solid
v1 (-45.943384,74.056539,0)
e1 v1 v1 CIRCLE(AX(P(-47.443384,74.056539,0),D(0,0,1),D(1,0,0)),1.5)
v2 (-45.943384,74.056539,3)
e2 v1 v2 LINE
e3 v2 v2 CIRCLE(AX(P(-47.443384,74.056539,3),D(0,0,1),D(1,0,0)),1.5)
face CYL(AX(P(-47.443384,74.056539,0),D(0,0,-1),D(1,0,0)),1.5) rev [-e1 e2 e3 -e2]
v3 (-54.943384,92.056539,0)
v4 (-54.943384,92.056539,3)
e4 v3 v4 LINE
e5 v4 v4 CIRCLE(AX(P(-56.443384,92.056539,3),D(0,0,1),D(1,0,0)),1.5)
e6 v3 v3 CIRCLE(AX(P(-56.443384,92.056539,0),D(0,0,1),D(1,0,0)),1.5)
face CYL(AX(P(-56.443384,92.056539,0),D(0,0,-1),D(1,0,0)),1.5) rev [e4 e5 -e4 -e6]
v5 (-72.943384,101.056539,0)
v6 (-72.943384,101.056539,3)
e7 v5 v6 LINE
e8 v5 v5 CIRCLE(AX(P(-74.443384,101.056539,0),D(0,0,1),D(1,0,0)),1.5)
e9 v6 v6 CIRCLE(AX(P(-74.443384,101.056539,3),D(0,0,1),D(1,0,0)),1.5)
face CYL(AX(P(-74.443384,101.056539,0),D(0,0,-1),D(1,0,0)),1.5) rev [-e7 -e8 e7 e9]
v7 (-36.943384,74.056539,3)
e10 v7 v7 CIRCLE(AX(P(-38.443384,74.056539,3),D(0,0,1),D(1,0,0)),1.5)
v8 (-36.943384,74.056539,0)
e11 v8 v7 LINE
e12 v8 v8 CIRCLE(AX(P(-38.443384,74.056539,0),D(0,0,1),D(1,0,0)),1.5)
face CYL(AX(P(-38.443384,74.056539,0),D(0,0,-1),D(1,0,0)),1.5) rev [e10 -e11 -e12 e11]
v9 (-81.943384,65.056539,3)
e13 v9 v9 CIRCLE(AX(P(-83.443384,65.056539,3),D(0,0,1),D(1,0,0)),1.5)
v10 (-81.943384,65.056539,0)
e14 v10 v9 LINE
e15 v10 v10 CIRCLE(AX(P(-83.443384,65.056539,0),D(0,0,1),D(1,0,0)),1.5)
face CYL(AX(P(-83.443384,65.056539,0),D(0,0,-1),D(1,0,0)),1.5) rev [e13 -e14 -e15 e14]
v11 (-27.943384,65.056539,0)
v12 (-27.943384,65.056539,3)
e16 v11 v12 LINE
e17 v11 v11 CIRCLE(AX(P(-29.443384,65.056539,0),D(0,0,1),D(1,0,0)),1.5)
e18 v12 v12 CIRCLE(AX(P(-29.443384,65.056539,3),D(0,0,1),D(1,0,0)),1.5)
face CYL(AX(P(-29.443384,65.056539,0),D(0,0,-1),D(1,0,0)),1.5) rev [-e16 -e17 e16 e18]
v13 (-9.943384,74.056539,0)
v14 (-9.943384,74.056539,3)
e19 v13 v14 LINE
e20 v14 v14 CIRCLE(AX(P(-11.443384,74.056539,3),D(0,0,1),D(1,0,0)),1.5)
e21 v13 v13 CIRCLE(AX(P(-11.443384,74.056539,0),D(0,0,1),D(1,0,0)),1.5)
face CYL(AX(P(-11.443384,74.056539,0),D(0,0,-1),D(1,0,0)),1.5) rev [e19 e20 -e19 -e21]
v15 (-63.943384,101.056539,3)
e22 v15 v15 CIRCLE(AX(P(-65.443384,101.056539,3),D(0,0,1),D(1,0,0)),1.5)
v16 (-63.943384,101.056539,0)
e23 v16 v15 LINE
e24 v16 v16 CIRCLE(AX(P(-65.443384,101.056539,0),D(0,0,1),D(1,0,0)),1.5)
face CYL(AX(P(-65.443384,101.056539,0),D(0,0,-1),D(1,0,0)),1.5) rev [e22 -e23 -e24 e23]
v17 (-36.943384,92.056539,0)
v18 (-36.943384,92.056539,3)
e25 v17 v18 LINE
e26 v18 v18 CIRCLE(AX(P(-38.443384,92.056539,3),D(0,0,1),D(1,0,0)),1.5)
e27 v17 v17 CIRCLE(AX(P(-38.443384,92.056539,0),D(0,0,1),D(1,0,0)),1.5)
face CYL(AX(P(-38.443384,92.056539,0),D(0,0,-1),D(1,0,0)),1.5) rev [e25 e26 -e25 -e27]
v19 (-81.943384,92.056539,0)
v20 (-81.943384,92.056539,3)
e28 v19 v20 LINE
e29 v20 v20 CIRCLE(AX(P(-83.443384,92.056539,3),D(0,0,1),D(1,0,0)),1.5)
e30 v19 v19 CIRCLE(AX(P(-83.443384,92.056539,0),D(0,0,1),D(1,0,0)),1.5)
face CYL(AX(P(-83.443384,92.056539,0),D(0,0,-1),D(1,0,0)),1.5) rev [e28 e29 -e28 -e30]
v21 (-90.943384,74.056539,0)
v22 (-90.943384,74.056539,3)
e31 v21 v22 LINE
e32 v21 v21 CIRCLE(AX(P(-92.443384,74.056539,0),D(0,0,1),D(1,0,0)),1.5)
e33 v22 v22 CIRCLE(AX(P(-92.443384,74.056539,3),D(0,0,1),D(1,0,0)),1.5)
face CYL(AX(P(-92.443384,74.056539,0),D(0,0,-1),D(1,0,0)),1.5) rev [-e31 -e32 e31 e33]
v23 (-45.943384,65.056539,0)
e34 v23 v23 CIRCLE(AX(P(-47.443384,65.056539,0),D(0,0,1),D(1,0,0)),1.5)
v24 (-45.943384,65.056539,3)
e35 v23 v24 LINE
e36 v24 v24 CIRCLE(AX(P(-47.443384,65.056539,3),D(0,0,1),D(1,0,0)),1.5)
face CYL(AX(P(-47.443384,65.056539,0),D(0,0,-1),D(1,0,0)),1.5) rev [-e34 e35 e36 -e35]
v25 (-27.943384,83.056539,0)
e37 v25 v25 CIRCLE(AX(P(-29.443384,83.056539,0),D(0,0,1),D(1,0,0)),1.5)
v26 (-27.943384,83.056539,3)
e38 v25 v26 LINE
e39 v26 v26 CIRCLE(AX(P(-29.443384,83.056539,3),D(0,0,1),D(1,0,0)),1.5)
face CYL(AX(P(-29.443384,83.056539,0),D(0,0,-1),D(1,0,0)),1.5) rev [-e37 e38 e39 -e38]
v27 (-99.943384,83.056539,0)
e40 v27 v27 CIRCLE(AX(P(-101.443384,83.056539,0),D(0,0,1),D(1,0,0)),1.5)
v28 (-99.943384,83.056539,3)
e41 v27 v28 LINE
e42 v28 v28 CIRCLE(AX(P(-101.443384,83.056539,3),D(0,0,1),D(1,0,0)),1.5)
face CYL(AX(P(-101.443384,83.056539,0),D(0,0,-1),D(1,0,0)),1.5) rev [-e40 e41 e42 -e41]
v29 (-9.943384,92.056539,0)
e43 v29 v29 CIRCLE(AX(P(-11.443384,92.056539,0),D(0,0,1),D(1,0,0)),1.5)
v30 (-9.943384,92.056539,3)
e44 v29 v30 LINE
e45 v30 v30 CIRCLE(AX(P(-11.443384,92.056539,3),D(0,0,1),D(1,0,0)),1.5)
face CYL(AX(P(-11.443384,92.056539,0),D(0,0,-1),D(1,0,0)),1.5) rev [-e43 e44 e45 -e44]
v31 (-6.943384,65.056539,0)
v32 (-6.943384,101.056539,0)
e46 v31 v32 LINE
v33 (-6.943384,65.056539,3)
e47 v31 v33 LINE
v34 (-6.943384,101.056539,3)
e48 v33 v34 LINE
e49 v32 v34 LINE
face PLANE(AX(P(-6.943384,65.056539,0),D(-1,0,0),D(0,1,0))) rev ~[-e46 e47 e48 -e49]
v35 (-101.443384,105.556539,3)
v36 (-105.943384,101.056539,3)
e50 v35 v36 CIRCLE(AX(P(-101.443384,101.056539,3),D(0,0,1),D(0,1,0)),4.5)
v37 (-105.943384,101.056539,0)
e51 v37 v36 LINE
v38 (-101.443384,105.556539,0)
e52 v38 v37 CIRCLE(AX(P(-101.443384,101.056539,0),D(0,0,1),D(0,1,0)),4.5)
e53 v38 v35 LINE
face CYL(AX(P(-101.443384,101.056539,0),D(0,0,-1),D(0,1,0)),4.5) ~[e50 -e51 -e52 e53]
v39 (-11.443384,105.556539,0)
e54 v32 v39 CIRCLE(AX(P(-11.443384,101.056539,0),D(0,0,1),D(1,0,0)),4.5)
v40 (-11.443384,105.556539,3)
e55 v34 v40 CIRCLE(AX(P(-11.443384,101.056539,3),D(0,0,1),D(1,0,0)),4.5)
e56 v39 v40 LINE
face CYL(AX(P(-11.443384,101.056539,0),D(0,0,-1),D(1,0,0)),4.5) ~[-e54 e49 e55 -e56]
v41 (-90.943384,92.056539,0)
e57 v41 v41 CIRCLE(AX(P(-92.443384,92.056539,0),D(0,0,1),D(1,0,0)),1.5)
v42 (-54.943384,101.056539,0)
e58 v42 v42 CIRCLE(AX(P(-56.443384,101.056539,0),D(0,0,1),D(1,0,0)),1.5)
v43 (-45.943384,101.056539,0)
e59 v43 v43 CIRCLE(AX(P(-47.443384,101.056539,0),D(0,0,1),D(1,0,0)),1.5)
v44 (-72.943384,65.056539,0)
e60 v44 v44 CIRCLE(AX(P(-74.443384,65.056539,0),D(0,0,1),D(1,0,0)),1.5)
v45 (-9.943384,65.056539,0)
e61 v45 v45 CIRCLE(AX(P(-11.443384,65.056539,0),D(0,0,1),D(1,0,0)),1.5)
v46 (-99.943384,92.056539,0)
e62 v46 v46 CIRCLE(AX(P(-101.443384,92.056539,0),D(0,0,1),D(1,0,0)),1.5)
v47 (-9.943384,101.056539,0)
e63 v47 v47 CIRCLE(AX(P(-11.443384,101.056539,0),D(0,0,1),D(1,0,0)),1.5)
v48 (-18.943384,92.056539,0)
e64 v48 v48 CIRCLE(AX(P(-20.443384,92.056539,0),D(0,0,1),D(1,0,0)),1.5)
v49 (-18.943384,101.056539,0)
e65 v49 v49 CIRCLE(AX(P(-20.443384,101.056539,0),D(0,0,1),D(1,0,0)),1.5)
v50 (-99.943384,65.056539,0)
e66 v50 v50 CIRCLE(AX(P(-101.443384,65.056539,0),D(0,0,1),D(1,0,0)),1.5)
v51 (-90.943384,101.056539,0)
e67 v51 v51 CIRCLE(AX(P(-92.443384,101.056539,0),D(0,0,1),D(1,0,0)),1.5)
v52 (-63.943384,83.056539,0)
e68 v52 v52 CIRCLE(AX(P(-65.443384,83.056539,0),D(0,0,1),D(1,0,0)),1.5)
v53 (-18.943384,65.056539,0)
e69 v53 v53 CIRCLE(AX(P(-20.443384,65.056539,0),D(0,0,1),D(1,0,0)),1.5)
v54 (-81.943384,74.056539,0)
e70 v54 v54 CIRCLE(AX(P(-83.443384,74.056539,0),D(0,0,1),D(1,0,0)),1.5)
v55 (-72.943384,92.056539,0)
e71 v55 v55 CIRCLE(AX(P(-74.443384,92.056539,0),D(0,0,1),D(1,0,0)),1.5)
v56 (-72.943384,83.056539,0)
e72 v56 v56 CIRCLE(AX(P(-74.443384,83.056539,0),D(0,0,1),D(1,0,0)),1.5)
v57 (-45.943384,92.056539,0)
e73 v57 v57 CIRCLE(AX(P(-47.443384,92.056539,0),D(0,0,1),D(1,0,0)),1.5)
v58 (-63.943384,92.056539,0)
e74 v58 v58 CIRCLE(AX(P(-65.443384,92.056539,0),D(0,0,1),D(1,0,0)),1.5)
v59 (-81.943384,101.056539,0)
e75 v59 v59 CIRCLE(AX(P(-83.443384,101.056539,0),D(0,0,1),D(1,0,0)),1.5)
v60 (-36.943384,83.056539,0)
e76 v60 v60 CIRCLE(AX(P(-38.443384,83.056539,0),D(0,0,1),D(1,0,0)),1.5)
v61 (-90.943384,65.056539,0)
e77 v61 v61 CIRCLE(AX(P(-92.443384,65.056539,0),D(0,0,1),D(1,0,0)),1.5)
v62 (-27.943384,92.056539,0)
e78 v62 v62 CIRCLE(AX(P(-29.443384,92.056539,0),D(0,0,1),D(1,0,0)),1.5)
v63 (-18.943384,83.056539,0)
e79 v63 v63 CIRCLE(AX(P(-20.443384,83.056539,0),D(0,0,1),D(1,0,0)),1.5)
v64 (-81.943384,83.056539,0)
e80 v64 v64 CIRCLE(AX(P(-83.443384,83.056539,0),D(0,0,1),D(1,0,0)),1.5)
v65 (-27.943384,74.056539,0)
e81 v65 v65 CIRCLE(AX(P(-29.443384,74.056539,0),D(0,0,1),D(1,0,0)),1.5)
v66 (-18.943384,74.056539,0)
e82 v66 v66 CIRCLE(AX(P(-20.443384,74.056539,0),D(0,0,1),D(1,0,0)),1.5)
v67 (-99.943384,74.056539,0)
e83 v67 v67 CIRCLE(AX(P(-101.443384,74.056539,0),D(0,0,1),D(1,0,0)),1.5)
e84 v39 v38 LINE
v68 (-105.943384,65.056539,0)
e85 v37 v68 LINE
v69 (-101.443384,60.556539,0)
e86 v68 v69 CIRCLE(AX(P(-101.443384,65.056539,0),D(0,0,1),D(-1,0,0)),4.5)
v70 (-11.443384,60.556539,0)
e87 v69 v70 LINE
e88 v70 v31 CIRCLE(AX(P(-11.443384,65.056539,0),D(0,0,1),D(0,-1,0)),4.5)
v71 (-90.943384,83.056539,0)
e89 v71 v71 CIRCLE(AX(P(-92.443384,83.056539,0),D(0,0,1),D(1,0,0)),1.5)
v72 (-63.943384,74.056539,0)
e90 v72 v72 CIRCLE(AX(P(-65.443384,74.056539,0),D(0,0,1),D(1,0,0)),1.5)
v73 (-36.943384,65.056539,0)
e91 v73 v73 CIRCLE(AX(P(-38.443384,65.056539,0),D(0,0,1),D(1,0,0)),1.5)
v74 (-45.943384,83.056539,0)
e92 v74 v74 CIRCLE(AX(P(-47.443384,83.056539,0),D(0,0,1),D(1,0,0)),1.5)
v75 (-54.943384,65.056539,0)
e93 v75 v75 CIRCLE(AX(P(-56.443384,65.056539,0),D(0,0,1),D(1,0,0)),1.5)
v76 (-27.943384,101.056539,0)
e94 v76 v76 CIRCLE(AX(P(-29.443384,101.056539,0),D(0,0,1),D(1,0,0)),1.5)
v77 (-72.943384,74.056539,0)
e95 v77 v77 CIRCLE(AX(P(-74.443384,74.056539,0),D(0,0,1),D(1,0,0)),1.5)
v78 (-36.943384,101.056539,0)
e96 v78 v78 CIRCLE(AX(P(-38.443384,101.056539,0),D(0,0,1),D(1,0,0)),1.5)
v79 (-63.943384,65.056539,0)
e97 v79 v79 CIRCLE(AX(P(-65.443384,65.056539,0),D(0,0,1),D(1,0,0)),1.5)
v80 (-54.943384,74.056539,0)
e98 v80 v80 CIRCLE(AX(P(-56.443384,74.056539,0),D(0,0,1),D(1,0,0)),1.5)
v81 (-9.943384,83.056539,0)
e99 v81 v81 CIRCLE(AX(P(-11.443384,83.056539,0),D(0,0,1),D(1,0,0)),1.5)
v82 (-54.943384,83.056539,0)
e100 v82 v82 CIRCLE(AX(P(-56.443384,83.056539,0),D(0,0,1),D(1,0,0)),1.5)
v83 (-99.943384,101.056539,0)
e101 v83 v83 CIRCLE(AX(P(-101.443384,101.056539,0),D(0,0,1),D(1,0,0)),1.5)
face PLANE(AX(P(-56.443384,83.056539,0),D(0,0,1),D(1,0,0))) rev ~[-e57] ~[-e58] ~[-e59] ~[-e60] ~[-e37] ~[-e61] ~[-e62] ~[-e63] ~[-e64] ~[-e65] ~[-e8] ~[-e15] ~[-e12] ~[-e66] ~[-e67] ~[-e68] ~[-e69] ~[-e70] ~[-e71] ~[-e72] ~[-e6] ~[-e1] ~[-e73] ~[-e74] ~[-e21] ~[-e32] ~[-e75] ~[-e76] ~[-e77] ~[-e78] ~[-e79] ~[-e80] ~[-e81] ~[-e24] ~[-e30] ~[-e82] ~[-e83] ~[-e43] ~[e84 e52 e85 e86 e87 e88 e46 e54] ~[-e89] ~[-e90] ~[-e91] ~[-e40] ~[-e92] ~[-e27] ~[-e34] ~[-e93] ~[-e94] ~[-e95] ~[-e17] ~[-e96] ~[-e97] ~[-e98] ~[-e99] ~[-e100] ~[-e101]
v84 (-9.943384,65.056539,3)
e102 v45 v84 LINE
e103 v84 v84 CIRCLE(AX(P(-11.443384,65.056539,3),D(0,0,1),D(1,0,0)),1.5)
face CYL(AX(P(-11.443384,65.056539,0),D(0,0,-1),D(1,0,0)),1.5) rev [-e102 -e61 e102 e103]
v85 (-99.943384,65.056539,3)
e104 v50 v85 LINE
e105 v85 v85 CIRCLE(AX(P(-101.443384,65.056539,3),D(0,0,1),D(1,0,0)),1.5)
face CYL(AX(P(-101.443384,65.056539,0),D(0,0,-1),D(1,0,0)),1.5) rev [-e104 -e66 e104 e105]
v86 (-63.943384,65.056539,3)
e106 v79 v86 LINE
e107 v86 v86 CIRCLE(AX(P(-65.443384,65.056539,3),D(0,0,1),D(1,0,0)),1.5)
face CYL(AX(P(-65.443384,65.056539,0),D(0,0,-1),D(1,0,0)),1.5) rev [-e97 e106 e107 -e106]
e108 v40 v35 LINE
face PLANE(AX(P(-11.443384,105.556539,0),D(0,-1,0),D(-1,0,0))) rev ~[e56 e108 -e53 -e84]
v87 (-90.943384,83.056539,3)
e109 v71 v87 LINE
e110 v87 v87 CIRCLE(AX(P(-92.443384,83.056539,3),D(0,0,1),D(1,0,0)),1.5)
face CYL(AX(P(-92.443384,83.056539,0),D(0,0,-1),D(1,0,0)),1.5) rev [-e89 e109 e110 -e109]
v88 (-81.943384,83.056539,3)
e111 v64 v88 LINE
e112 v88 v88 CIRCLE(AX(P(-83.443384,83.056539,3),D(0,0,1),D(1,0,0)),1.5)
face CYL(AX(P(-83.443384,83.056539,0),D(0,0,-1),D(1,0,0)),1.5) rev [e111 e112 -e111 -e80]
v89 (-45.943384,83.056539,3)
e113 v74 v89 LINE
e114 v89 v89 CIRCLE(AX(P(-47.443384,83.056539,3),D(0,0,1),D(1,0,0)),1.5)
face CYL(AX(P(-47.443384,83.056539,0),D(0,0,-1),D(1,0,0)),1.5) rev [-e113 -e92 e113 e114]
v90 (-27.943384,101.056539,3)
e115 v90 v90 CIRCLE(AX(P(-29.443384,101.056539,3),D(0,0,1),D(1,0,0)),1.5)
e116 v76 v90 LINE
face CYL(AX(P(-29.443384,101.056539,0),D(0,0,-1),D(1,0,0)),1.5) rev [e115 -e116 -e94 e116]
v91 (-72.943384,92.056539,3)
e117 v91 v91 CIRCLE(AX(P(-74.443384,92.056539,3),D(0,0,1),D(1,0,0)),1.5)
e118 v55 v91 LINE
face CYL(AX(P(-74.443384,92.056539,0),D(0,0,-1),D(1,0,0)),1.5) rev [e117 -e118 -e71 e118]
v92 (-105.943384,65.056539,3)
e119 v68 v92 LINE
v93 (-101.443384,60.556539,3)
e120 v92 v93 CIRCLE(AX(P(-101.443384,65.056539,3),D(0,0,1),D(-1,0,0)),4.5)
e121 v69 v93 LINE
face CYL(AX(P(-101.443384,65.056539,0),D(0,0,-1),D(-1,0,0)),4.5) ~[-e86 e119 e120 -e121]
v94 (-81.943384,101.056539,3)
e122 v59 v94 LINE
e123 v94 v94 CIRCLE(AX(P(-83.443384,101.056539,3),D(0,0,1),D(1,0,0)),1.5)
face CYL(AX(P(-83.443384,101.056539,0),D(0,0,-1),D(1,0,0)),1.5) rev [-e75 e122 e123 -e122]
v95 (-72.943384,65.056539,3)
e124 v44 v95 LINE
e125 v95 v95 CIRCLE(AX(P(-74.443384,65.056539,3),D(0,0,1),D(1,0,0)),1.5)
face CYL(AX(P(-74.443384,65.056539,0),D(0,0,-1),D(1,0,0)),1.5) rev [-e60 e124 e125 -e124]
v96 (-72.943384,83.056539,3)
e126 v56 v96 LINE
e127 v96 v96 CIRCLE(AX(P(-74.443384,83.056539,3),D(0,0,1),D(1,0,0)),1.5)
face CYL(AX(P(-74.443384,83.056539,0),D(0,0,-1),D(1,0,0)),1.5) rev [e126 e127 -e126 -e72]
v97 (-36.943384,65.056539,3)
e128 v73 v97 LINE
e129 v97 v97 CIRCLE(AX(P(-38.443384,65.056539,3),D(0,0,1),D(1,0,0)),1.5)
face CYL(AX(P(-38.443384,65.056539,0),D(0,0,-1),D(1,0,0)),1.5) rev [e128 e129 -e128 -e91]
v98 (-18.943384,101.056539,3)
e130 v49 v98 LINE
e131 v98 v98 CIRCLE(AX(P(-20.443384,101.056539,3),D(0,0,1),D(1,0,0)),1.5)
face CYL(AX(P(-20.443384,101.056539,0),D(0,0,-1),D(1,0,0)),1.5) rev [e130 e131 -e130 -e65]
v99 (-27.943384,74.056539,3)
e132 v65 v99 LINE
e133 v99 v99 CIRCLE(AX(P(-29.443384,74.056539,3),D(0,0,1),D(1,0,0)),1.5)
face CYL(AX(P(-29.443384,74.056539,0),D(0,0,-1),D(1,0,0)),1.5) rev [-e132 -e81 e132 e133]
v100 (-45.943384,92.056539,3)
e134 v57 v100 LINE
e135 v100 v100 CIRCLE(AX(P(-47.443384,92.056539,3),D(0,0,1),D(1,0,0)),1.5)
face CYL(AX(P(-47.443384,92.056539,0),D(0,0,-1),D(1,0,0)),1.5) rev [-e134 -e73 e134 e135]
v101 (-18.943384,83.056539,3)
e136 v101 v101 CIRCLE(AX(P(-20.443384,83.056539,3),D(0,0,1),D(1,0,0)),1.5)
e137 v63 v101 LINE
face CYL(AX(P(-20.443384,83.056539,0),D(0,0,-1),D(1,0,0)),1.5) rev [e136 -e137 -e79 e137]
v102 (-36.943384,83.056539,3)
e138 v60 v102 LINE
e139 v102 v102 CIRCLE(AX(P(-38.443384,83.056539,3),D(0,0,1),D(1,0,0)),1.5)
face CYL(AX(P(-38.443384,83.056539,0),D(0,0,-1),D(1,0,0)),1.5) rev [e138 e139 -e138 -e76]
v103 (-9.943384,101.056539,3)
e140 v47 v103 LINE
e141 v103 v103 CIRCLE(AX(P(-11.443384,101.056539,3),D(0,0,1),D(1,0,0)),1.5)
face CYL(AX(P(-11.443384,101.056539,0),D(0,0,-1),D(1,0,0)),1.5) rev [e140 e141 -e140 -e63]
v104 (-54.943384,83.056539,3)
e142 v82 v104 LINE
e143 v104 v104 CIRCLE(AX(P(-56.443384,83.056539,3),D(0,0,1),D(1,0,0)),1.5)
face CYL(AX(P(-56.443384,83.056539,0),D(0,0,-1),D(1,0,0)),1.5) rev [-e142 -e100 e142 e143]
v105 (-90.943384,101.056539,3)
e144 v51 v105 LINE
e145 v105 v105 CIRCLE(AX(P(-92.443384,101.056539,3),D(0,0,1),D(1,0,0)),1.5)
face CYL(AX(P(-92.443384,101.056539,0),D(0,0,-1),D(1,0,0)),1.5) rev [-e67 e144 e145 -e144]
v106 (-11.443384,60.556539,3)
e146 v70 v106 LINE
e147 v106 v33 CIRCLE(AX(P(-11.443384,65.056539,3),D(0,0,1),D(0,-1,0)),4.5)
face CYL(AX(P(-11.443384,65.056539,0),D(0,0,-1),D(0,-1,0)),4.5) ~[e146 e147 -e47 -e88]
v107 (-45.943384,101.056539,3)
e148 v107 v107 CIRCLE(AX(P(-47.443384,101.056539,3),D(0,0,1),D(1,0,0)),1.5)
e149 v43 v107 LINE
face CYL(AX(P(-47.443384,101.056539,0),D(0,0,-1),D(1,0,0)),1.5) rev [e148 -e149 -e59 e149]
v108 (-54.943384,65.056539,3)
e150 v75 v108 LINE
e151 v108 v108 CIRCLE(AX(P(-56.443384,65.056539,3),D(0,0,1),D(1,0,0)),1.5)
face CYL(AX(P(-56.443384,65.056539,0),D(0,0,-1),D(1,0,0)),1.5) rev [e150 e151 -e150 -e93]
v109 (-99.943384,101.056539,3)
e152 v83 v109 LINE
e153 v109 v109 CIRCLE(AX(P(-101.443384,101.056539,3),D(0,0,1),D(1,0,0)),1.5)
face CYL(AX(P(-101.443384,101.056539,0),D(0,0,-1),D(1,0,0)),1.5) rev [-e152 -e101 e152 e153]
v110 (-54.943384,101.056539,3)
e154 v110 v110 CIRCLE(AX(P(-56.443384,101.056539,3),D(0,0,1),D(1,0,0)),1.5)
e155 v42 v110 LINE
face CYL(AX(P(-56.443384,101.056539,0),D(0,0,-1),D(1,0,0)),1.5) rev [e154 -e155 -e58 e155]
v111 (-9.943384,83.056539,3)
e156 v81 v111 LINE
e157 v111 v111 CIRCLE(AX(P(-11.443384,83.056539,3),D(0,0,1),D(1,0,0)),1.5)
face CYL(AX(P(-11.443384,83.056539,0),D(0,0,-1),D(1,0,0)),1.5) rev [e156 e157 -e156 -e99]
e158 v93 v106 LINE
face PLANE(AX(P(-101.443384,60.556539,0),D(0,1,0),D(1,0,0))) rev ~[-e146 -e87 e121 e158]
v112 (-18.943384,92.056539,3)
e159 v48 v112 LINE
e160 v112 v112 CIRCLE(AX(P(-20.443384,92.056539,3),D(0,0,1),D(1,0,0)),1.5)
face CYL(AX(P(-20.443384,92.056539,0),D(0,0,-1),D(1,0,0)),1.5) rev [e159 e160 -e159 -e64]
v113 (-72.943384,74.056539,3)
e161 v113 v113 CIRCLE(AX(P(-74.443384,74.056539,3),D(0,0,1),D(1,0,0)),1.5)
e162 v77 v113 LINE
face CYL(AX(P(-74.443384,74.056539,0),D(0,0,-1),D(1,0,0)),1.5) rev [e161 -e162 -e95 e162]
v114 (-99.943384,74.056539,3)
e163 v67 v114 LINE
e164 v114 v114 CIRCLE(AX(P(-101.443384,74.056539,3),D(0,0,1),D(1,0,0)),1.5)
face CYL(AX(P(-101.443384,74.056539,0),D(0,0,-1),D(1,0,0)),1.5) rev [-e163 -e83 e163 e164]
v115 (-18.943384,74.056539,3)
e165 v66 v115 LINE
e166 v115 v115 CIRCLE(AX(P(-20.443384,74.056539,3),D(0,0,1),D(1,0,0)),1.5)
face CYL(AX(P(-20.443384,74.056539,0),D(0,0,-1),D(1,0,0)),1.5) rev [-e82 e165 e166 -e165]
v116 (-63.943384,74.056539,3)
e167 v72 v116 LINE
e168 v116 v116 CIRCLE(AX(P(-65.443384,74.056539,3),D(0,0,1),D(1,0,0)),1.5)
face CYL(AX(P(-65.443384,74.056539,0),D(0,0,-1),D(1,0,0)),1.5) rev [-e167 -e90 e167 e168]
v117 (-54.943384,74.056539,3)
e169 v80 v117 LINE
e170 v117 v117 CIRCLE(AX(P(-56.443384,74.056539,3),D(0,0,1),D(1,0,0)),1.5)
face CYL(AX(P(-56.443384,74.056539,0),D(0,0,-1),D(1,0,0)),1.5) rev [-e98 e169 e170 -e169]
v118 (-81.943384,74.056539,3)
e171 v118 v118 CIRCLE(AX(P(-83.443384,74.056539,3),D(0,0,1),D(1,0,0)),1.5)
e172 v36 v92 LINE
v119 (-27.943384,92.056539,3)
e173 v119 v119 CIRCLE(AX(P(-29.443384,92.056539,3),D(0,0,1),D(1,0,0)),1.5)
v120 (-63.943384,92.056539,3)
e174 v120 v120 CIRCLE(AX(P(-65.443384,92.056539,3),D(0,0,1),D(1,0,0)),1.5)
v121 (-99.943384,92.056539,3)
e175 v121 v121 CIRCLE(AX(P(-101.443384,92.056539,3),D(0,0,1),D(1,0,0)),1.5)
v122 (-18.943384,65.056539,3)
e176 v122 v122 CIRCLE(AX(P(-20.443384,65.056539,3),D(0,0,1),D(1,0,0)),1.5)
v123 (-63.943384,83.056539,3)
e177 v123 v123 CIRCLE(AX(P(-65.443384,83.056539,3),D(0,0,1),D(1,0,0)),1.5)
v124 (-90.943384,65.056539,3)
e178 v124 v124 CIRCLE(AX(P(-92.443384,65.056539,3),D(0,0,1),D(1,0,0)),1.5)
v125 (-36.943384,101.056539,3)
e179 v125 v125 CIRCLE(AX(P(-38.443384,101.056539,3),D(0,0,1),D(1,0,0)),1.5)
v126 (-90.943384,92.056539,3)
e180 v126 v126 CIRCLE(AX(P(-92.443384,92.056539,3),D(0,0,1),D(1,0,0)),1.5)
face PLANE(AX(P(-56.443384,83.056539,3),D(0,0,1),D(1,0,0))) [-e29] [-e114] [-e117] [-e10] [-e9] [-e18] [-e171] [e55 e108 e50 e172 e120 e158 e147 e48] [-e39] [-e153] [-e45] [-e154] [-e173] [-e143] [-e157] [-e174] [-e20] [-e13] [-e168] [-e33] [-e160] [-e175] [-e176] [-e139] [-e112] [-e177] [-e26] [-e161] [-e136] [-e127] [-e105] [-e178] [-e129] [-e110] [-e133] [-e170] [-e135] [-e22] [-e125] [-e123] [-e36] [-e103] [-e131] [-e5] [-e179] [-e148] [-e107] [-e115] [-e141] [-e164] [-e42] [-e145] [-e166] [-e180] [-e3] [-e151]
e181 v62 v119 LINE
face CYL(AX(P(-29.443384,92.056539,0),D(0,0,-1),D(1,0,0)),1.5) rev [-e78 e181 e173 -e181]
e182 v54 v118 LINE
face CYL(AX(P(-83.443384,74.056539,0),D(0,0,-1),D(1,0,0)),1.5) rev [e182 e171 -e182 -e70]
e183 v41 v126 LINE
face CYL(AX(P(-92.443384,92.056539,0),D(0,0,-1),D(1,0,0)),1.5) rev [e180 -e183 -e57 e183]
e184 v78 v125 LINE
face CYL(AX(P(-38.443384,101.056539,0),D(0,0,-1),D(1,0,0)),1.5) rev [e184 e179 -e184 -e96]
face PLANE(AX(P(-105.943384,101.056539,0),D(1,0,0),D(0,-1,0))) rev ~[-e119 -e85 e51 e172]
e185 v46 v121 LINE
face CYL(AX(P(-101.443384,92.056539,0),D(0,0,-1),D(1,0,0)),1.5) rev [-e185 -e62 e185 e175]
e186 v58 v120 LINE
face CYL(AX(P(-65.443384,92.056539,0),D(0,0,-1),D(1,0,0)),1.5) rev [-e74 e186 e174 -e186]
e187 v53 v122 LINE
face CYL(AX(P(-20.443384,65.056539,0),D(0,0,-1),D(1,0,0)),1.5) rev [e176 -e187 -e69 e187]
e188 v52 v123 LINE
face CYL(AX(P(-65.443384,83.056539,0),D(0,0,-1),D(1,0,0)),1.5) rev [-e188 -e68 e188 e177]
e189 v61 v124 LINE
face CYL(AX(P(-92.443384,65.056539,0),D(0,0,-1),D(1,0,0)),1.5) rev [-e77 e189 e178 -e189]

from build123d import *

# Parameters (mm, degrees)
MODEL_R                 = 1.5
SALIENTE_EXTRUIR1_DEPTH = 3


with BuildPart() as part:
    # Model → Saliente-Extruir1 (new body)
    with BuildSketch(Plane.XY):
        with BuildLine():
            Line((-105.943383637, 101.056539338), (-105.943383637, 65.056539338))
            ThreePointArc((-105.943383637, 65.056539338), (-104.625364152, 61.874558823), (-101.443383637, 60.556539338))
            Line((-101.443383637, 60.556539338), (-11.443383637, 60.556539338))
            ThreePointArc((-11.443383637, 60.556539338), (-8.261403122, 61.874558823), (-6.943383637, 65.056539338))
            Line((-6.943383637, 65.056539338), (-6.943383637, 101.056539338))
            ThreePointArc((-6.943383637, 101.056539338), (-8.261403122, 104.238519853), (-11.443383637, 105.556539338))
            Line((-11.443383637, 105.556539338), (-101.443383637, 105.556539338))
            ThreePointArc((-101.443383637, 105.556539338), (-104.625364152, 104.238519853), (-105.943383637, 101.056539338))
        make_face()
        with Locations((-101.443383637, 101.056539338)):
            Circle(MODEL_R, mode=Mode.SUBTRACT)
        with Locations((-92.443383637, 101.056539338)):
            Circle(MODEL_R, mode=Mode.SUBTRACT)
        with Locations((-83.443383637, 101.056539338)):
            Circle(MODEL_R, mode=Mode.SUBTRACT)
        with Locations((-74.443383637, 101.056539338)):
            Circle(MODEL_R, mode=Mode.SUBTRACT)
        with Locations((-65.443383637, 101.056539338)):
            Circle(MODEL_R, mode=Mode.SUBTRACT)
        with Locations((-56.443383637, 101.056539338)):
            Circle(MODEL_R, mode=Mode.SUBTRACT)
        with Locations((-47.443383637, 101.056539338)):
            Circle(MODEL_R, mode=Mode.SUBTRACT)
        with Locations((-20.443383637, 101.056539338)):
            Circle(MODEL_R, mode=Mode.SUBTRACT)
        with Locations((-101.443383637, 92.056539338)):
            Circle(MODEL_R, mode=Mode.SUBTRACT)
        with Locations((-92.443383637, 92.056539338)):
            Circle(MODEL_R, mode=Mode.SUBTRACT)
        with Locations((-83.443383637, 92.056539338)):
            Circle(MODEL_R, mode=Mode.SUBTRACT)
        with Locations((-74.443383637, 92.056539338)):
            Circle(MODEL_R, mode=Mode.SUBTRACT)
        with Locations((-65.443383637, 92.056539338)):
            Circle(MODEL_R, mode=Mode.SUBTRACT)
        with Locations((-56.443383637, 92.056539338)):
            Circle(MODEL_R, mode=Mode.SUBTRACT)
        with Locations((-47.443383637, 92.056539338)):
            Circle(MODEL_R, mode=Mode.SUBTRACT)
        with Locations((-20.443383637, 92.056539338)):
            Circle(MODEL_R, mode=Mode.SUBTRACT)
        with Locations((-101.443383637, 83.056539338)):
            Circle(MODEL_R, mode=Mode.SUBTRACT)
        with Locations((-92.443383637, 83.056539338)):
            Circle(MODEL_R, mode=Mode.SUBTRACT)
        with Locations((-83.443383637, 83.056539338)):
            Circle(MODEL_R, mode=Mode.SUBTRACT)
        with Locations((-74.443383637, 83.056539338)):
            Circle(MODEL_R, mode=Mode.SUBTRACT)
        with Locations((-65.443383637, 83.056539338)):
            Circle(MODEL_R, mode=Mode.SUBTRACT)
        with Locations((-56.443383637, 83.056539338)):
            Circle(MODEL_R, mode=Mode.SUBTRACT)
        with Locations((-47.443383637, 83.056539338)):
            Circle(MODEL_R, mode=Mode.SUBTRACT)
        with Locations((-20.443383637, 83.056539338)):
            Circle(MODEL_R, mode=Mode.SUBTRACT)
        with Locations((-101.443383637, 65.056539338)):
            Circle(MODEL_R, mode=Mode.SUBTRACT)
        with Locations((-92.443383637, 65.056539338)):
            Circle(MODEL_R, mode=Mode.SUBTRACT)
        with Locations((-83.443383637, 65.056539338)):
            Circle(MODEL_R, mode=Mode.SUBTRACT)
        with Locations((-74.443383637, 65.056539338)):
            Circle(MODEL_R, mode=Mode.SUBTRACT)
        with Locations((-65.443383637, 65.056539338)):
            Circle(MODEL_R, mode=Mode.SUBTRACT)
        with Locations((-56.443383637, 65.056539338)):
            Circle(MODEL_R, mode=Mode.SUBTRACT)
        with Locations((-47.443383637, 65.056539338)):
            Circle(MODEL_R, mode=Mode.SUBTRACT)
        with Locations((-20.443383637, 65.056539338)):
            Circle(MODEL_R, mode=Mode.SUBTRACT)
        with Locations((-11.443383637, 101.056539338)):
            Circle(MODEL_R, mode=Mode.SUBTRACT)
        with Locations((-11.443383637, 92.056539338)):
            Circle(MODEL_R, mode=Mode.SUBTRACT)
        with Locations((-11.443383637, 83.056539338)):
            Circle(MODEL_R, mode=Mode.SUBTRACT)
        with Locations((-11.443383637, 65.056539338)):
            Circle(MODEL_R, mode=Mode.SUBTRACT)
        with Locations((-101.443383637, 74.056539338)):
            Circle(MODEL_R, mode=Mode.SUBTRACT)
        with Locations((-92.443383637, 74.056539338)):
            Circle(MODEL_R, mode=Mode.SUBTRACT)
        with Locations((-83.443383637, 74.056539338)):
            Circle(MODEL_R, mode=Mode.SUBTRACT)
        with Locations((-74.443383637, 74.056539338)):
            Circle(MODEL_R, mode=Mode.SUBTRACT)
        with Locations((-65.443383637, 74.056539338)):
            Circle(MODEL_R, mode=Mode.SUBTRACT)
        with Locations((-56.443383637, 74.056539338)):
            Circle(MODEL_R, mode=Mode.SUBTRACT)
        with Locations((-47.443383637, 74.056539338)):
            Circle(MODEL_R, mode=Mode.SUBTRACT)
        with Locations((-20.443383637, 74.056539338)):
            Circle(MODEL_R, mode=Mode.SUBTRACT)
        with Locations((-11.443383637, 74.056539338)):
            Circle(MODEL_R, mode=Mode.SUBTRACT)
        with Locations((-38.443383637, 101.056539338)):
            Circle(MODEL_R, mode=Mode.SUBTRACT)
        with Locations((-29.443383637, 101.056539338)):
            Circle(MODEL_R, mode=Mode.SUBTRACT)
        with Locations((-38.443383637, 92.056539338)):
            Circle(MODEL_R, mode=Mode.SUBTRACT)
        with Locations((-29.443383637, 92.056539338)):
            Circle(MODEL_R, mode=Mode.SUBTRACT)
        with Locations((-38.443383637, 83.056539338)):
            Circle(MODEL_R, mode=Mode.SUBTRACT)
        with Locations((-29.443383637, 83.056539338)):
            Circle(MODEL_R, mode=Mode.SUBTRACT)
        with Locations((-38.443383637, 65.056539338)):
            Circle(MODEL_R, mode=Mode.SUBTRACT)
        with Locations((-29.443383637, 65.056539338)):
            Circle(MODEL_R, mode=Mode.SUBTRACT)
        with Locations((-38.443383637, 74.056539338)):
            Circle(MODEL_R, mode=Mode.SUBTRACT)
        with Locations((-29.443383637, 74.056539338)):
            Circle(MODEL_R, mode=Mode.SUBTRACT)
    extrude(amount=SALIENTE_EXTRUIR1_DEPTH)


solid = part.part
